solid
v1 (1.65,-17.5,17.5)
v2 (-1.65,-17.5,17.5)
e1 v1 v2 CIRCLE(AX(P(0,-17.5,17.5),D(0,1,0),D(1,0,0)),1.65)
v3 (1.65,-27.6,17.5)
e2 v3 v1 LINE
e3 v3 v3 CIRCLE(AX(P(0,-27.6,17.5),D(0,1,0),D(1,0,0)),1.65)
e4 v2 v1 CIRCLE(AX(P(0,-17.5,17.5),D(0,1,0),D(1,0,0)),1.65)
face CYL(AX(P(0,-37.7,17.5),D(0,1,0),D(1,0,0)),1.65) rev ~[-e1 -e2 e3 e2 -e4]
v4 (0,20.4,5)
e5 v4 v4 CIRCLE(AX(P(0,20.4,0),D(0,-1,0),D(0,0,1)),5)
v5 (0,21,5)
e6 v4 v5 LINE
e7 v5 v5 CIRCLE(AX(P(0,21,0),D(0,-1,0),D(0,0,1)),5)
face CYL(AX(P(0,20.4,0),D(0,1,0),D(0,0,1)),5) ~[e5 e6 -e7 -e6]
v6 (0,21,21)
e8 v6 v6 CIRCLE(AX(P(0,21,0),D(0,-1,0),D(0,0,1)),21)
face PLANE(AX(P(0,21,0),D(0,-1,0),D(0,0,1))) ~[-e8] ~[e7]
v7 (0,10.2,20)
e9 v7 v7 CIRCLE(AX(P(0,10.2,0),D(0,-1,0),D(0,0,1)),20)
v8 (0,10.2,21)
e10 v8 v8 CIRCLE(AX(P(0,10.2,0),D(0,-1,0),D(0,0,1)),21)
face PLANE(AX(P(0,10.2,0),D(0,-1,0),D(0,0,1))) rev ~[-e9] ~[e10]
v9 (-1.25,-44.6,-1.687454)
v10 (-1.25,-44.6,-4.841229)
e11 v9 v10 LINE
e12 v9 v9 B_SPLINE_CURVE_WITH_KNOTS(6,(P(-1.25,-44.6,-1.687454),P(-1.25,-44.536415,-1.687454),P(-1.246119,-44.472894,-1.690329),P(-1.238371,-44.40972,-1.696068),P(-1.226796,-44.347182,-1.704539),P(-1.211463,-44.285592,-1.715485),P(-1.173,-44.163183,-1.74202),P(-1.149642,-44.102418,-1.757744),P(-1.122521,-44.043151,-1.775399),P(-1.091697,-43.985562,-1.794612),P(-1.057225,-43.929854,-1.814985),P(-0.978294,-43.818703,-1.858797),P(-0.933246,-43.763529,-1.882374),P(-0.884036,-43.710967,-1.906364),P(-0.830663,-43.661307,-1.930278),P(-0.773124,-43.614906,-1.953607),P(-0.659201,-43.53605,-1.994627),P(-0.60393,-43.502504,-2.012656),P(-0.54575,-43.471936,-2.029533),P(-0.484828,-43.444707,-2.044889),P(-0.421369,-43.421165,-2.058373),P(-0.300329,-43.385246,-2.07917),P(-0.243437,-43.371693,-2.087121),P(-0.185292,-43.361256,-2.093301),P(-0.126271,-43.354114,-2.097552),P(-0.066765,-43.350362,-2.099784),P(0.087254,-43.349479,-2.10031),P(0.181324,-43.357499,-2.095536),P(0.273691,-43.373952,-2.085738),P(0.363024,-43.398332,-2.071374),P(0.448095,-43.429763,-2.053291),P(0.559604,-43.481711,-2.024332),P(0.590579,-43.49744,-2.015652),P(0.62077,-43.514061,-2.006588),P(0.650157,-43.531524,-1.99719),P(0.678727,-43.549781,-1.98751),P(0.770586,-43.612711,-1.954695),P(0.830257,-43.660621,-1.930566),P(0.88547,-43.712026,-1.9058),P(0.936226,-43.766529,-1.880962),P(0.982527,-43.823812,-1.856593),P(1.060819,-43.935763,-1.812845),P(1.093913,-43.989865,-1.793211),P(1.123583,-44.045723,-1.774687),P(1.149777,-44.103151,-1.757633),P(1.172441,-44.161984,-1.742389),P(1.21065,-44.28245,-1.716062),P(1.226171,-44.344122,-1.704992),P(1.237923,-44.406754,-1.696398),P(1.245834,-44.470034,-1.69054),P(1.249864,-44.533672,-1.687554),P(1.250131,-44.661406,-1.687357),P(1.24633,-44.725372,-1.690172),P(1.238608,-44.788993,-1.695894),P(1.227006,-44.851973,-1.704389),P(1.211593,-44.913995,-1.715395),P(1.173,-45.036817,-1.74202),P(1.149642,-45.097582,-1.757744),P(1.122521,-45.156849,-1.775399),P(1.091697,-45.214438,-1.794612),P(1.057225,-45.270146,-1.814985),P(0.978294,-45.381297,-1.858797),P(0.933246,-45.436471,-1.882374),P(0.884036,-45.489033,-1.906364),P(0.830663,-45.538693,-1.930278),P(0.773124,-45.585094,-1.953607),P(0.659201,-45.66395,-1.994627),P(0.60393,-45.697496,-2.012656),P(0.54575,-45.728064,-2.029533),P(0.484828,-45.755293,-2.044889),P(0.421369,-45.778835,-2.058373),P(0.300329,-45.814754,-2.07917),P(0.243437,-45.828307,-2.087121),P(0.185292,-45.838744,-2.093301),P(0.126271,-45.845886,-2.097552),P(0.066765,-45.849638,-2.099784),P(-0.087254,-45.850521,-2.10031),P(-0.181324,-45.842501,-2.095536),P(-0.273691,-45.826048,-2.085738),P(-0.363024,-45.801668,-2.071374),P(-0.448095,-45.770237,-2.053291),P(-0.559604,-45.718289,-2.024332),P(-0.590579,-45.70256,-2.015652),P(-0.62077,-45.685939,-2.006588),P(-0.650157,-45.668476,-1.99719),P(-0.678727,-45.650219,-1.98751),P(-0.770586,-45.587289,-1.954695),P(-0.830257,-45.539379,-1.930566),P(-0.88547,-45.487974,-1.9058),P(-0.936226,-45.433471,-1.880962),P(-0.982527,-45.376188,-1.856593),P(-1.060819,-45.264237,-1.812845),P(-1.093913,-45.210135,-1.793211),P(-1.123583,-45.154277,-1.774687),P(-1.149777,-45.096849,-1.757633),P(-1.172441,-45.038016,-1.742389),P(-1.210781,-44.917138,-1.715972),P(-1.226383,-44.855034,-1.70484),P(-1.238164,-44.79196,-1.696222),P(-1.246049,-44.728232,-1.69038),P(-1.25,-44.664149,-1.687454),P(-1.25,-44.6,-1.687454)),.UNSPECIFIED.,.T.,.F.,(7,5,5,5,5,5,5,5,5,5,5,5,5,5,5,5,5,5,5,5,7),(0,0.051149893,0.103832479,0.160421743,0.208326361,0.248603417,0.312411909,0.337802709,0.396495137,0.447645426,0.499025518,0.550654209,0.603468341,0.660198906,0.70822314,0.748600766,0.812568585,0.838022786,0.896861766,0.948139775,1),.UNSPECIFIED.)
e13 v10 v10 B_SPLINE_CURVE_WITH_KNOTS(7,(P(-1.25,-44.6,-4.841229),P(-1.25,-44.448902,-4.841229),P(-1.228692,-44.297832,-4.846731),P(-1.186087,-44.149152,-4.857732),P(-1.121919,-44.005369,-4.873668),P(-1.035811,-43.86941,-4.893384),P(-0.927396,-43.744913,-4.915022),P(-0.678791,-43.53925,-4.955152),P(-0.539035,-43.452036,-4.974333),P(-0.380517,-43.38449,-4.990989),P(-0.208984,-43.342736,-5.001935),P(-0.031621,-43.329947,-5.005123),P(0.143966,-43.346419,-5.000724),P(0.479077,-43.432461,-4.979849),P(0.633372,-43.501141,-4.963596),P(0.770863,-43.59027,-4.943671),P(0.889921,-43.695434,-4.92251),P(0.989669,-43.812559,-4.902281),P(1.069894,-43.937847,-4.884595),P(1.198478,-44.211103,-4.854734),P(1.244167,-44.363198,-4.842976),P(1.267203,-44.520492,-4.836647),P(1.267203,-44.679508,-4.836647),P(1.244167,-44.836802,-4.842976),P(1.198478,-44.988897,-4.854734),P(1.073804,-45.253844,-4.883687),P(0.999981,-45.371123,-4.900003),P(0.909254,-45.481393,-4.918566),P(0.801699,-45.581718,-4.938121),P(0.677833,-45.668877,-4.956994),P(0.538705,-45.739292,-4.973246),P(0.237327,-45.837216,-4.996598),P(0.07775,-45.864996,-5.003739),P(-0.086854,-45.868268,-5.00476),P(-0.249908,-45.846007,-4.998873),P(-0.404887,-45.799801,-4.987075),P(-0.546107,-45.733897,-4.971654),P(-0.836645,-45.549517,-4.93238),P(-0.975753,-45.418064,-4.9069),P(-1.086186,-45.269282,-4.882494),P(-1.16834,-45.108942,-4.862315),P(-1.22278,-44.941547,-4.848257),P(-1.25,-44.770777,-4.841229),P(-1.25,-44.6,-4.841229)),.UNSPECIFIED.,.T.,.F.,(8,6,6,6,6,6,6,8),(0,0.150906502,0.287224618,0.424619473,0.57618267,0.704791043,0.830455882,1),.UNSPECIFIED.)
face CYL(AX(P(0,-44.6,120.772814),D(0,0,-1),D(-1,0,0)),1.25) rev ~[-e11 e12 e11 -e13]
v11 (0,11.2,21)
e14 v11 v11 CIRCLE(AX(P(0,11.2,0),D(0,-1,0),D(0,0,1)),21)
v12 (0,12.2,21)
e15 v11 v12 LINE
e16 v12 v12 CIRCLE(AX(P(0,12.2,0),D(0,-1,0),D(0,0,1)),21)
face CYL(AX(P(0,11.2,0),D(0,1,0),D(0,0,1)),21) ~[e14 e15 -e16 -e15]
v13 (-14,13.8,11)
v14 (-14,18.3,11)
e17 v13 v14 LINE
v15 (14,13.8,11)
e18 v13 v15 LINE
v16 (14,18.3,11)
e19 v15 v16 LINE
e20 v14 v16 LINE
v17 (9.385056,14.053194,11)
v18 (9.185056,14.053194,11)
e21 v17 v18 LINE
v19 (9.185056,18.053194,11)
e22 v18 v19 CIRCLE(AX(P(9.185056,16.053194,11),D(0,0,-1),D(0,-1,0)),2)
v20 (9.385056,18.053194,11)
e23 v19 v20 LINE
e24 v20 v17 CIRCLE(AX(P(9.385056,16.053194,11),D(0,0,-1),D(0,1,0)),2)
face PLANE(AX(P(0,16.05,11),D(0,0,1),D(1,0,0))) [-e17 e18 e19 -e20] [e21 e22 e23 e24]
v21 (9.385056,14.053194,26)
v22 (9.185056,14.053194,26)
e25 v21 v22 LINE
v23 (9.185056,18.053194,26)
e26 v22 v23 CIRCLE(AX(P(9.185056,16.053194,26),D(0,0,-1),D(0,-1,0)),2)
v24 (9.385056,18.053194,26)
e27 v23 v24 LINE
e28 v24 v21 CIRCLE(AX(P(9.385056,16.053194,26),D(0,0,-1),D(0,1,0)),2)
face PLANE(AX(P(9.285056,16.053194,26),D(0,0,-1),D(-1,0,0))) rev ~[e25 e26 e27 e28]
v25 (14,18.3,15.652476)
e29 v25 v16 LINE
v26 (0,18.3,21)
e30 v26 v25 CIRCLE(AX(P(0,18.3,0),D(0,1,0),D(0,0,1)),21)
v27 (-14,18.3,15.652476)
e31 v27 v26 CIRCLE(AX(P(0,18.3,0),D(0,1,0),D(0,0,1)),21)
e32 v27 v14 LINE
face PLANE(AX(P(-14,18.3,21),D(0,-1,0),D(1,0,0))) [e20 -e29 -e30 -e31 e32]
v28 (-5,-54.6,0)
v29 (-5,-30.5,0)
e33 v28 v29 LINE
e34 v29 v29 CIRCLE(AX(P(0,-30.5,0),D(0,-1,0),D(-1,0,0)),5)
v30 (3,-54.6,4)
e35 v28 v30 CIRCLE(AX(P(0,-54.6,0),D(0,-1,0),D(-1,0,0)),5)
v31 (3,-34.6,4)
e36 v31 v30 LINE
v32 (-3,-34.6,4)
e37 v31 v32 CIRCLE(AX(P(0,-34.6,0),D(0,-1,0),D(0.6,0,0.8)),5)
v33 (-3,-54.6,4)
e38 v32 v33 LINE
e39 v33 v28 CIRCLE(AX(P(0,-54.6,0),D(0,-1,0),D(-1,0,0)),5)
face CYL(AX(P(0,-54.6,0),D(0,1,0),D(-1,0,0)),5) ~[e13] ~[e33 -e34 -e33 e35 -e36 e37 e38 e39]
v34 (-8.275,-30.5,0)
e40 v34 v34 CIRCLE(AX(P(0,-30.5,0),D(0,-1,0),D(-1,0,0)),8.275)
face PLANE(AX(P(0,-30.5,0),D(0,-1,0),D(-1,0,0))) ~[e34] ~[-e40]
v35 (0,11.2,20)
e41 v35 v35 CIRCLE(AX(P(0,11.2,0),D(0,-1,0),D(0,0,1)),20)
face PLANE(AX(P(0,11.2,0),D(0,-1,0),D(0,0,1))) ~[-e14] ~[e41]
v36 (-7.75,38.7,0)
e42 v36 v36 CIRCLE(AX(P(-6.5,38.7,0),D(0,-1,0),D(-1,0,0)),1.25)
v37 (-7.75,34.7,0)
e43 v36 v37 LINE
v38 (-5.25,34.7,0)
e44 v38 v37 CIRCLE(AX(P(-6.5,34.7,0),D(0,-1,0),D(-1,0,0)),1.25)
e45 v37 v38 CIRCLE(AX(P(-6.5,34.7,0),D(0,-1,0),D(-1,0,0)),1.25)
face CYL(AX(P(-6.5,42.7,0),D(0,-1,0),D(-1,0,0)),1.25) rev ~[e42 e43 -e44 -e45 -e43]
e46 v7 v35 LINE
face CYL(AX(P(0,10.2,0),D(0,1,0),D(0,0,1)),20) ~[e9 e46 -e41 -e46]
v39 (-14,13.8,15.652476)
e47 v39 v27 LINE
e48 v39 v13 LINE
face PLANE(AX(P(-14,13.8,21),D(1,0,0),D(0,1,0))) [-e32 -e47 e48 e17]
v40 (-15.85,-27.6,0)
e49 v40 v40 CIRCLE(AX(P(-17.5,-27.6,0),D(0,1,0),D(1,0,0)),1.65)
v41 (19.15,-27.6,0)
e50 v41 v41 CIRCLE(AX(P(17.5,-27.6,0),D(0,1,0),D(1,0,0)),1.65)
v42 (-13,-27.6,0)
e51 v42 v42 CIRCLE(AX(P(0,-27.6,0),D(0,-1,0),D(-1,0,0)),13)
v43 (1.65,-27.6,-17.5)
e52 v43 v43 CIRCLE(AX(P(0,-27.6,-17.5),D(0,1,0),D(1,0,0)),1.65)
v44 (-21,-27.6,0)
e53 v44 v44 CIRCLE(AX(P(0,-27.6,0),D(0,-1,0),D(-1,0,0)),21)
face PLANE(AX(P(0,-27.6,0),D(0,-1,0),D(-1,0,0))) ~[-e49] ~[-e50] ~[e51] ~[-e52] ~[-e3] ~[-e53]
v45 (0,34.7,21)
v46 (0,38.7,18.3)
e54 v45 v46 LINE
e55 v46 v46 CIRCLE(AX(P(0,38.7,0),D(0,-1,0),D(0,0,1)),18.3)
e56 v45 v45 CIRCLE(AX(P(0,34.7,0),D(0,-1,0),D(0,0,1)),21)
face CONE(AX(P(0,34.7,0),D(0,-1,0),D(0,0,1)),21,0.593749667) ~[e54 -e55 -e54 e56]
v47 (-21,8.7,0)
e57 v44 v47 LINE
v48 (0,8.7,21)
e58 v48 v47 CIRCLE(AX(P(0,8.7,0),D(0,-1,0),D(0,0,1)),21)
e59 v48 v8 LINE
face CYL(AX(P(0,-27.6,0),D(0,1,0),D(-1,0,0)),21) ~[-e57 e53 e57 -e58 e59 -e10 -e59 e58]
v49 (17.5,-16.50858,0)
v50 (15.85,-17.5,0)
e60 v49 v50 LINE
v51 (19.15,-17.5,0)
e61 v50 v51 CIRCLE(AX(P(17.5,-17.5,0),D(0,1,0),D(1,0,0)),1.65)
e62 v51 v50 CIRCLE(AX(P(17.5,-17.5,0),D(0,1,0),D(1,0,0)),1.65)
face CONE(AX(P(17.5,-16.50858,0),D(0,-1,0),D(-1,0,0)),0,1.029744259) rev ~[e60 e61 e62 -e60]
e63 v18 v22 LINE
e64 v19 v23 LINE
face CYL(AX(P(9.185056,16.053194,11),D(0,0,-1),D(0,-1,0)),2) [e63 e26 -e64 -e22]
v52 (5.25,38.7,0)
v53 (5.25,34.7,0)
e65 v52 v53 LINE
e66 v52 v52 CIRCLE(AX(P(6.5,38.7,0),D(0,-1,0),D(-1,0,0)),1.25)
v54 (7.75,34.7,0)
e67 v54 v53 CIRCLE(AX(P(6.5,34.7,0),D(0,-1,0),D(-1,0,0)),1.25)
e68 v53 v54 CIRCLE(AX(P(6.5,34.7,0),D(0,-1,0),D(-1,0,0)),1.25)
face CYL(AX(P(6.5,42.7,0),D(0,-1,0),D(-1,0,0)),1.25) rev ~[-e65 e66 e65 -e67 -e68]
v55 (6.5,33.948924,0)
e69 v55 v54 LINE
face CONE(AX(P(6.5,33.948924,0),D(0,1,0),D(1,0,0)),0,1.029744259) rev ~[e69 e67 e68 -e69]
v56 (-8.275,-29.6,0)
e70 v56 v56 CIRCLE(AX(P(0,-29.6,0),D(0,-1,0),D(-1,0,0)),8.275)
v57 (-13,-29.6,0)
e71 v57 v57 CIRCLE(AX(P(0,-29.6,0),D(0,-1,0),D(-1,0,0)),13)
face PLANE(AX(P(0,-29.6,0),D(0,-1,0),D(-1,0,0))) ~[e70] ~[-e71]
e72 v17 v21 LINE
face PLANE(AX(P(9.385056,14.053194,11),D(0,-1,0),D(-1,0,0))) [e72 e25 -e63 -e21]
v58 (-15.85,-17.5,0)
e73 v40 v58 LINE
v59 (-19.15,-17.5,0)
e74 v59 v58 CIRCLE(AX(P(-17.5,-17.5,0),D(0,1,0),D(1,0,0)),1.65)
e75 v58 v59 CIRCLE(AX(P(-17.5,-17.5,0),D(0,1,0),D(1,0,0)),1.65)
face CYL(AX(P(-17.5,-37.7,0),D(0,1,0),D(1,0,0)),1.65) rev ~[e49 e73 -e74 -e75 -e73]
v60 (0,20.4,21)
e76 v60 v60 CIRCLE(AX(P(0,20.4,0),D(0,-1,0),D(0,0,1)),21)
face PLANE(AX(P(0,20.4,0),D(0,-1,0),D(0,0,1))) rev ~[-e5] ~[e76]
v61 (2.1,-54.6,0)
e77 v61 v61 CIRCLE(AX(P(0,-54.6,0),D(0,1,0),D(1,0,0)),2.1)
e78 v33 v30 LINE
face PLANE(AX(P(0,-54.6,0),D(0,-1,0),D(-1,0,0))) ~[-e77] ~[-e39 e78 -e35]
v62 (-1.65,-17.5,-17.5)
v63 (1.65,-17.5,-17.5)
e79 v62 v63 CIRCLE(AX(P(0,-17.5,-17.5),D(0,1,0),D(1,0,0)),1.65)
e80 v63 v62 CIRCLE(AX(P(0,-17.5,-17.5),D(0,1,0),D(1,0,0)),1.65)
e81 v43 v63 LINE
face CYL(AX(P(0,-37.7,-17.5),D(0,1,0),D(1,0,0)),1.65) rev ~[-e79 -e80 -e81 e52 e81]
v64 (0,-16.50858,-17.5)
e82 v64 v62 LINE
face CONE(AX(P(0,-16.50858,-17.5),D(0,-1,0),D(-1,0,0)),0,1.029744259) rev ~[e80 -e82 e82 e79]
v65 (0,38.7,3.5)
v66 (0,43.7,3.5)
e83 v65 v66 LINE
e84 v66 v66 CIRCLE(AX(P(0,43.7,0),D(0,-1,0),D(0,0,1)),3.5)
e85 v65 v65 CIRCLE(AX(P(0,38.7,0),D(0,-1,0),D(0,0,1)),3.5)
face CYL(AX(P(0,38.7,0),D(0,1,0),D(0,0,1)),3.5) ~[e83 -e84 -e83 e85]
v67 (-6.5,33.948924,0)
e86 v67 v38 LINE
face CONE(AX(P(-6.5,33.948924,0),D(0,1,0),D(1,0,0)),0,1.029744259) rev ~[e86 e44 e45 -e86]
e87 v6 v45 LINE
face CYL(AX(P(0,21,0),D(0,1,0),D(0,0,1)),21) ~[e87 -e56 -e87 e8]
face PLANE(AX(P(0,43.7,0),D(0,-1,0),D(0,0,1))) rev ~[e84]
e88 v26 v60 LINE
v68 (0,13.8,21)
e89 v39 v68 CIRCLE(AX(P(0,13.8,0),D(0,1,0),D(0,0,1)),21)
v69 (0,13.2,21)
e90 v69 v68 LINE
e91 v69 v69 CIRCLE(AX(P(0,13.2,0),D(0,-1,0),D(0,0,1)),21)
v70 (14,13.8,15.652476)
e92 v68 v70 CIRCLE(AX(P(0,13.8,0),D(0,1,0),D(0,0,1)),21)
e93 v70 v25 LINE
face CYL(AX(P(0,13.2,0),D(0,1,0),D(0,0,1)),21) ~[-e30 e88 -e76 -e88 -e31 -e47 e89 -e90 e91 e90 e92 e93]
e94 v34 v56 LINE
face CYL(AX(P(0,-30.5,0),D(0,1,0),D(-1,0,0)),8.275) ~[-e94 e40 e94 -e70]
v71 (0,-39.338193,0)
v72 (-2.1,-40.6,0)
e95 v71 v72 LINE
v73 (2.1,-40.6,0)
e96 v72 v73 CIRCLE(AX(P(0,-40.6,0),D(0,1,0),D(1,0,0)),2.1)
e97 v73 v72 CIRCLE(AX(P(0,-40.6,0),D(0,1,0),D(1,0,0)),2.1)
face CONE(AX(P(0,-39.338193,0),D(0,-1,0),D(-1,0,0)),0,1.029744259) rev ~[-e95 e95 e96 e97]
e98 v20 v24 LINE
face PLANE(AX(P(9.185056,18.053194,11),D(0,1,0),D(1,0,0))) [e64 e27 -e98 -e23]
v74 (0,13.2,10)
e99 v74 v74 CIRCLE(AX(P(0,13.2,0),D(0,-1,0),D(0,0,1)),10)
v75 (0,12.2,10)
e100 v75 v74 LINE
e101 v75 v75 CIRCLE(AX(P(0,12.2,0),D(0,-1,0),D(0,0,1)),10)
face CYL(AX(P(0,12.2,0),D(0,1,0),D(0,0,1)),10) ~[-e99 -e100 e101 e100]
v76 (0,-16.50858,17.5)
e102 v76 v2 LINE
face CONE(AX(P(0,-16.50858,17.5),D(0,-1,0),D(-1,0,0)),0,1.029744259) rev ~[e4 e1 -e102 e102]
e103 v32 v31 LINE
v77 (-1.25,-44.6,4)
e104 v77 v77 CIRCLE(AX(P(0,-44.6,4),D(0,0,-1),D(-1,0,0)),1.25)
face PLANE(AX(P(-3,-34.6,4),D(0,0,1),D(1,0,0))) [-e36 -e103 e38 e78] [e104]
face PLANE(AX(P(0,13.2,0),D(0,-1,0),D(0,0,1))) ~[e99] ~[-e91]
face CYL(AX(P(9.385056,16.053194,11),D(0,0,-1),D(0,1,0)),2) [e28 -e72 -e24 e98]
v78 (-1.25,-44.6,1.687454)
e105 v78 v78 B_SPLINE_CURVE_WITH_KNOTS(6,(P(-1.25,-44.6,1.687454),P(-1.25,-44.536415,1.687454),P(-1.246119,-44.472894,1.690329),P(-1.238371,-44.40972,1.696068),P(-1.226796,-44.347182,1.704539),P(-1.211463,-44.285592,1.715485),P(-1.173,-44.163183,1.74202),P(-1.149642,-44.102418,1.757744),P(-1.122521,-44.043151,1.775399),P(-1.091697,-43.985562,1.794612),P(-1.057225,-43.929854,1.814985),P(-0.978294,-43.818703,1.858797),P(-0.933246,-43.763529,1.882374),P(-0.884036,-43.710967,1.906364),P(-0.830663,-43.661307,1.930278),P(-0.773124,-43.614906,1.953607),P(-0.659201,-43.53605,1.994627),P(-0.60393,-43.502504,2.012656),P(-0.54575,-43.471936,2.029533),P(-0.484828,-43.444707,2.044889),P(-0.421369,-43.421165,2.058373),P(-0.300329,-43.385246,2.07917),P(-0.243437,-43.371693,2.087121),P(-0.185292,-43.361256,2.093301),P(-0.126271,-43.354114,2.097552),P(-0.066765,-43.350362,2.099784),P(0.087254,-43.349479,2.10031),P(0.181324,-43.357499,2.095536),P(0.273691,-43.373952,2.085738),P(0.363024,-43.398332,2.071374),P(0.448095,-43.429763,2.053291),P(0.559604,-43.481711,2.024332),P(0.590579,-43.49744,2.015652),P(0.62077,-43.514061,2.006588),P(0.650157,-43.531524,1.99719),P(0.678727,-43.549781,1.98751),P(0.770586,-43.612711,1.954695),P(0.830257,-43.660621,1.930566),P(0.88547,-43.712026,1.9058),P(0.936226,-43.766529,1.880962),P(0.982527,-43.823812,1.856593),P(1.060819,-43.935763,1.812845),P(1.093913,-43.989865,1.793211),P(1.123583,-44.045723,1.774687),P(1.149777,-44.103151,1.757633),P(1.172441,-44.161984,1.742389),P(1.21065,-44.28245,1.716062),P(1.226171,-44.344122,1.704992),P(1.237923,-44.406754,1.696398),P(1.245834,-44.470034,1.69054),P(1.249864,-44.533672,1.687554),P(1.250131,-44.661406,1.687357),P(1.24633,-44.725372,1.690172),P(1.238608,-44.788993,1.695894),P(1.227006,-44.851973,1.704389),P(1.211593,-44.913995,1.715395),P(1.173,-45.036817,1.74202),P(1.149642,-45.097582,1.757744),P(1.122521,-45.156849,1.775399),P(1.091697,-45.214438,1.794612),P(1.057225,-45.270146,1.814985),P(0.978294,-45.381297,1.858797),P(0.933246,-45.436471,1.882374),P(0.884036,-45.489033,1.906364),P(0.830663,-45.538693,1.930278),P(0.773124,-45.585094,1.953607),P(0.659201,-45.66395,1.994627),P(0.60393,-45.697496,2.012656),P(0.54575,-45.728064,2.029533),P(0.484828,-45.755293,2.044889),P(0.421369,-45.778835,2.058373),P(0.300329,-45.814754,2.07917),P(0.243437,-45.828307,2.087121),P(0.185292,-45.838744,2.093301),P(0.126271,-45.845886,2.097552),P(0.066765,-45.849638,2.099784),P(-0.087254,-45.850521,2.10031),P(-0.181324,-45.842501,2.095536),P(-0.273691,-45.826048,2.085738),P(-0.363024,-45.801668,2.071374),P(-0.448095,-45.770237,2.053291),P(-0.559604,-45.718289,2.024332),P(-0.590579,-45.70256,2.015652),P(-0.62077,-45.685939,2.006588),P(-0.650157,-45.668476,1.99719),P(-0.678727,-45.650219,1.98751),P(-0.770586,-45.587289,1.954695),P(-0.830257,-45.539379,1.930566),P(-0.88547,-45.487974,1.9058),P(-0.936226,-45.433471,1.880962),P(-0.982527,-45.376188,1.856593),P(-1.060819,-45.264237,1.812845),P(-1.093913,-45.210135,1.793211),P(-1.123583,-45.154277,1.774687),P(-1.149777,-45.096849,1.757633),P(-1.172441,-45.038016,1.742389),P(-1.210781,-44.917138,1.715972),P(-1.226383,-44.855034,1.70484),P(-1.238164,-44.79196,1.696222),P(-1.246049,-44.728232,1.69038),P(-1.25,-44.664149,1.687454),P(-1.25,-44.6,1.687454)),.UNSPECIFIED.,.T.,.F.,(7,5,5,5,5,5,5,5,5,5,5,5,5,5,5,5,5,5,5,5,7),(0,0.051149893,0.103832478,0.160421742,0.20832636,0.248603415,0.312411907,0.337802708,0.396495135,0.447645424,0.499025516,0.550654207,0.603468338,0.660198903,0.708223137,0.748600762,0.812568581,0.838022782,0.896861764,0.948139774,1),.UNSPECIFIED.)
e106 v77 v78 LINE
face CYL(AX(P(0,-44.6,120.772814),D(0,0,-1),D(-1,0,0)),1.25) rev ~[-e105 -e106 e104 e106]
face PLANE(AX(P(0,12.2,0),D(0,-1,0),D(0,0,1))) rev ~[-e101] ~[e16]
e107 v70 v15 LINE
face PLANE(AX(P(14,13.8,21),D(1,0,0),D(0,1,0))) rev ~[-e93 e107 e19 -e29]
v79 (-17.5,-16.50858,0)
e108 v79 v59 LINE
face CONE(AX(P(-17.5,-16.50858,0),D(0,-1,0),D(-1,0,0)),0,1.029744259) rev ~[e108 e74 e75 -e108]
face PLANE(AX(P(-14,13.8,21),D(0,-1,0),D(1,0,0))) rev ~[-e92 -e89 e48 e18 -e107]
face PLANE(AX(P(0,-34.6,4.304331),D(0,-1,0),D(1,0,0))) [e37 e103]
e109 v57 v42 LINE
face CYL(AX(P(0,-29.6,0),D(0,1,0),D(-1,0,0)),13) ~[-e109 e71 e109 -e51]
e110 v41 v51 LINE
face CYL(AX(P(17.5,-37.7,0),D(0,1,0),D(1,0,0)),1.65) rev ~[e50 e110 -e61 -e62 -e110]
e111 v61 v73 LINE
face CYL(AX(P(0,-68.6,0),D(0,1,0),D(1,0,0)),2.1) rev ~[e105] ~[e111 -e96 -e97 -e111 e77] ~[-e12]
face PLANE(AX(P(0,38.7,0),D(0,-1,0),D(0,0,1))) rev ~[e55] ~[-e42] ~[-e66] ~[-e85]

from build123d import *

# Parameters (mm, degrees)
SKETCH_2_W             = 28
SKETCH_2_H             = 4.5
CUT_EXTRUDE_1_DEPTH    = 10
EXTRUDE_1_DEPTH        = 15
HOLE_WIZARD_M3_1_D     = 2.5
HOLE_WIZARD_M3_1_DEPTH = 4
HOLE_WIZARD_M3_1_TIP   = 0.751075774
CUT_EXTRUDE_START      = -20
CUT_EXTRUDE_2_DEPTH    = 20
HOLE_WIZARD_M4_1_D     = 3.3
HOLE_WIZARD_M4_1_DEPTH = 10.1
HOLE_WIZARD_M4_1_TIP   = 0.991420021
HOLE_WIZARD_M3_2_D     = 2.5
HOLE_WIZARD_M5_1_D     = 4.2
HOLE_WIZARD_M5_1_DEPTH = 14
HOLE_WIZARD_M5_1_TIP   = 1.2618073


with BuildPart() as part:
    # 草图1 → 旋转1 (revolve)
    with BuildSketch(Plane.XY, mode=Mode.PRIVATE) as revolve_1_sk:
        Polygon((0, 0), (4.1, 0), (4.1, 6.7), (13.4, 6.7), (13.4, 8.7), (21, 8.7), (21, 10.2), (20, 10.2), (20, 11.2), (21, 11.2), (21, 12.2), (10, 12.2), (10, 13.2), (21, 13.2), (21, 20.4), (5, 20.4), (5, 21), (21, 21), (21, 34.7), (18.3, 38.7), (3.5, 38.7), (3.5, 43.7), (0, 43.7), align=None)
    revolve(revolve_1_sk.sketch.rotate(Axis((0, 43.7, 0), (0, -1, 0)), 90), axis=Axis((0, 43.7, 0), (0, -1, 0)))

    # 草图2 → 切除-拉伸1 (cut)
    with BuildSketch(Plane.XY.offset(21)):
        with Locations((0, 16.05)):
            Rectangle(SKETCH_2_W, SKETCH_2_H)
    extrude(amount=-CUT_EXTRUDE_1_DEPTH, mode=Mode.SUBTRACT)

    # 草图3 → 凸台-拉伸1 (add)
    with BuildSketch(Plane.XY.offset(11)):
        with BuildLine():
            Line((9.185056323, 18.053194417), (9.385056323, 18.053194417))
            ThreePointArc((9.385056323, 18.053194417), (11.385056323, 16.053194417), (9.385056323, 14.053194417))
            Line((9.385056323, 14.053194417), (9.185056323, 14.053194417))
            ThreePointArc((9.185056323, 14.053194417), (7.185056323, 16.053194417), (9.185056323, 18.053194417))
        make_face()
    extrude(amount=EXTRUDE_1_DEPTH)

    # M3 螺纹孔1
    with Locations(Plane(origin=(0, 38.7, 0), x_dir=(1, 0, 0), z_dir=(0, 1, 0))):
        with Locations((-6.5, 0), (6.5, 0)):
            Hole(HOLE_WIZARD_M3_1_D / 2, depth=HOLE_WIZARD_M3_1_DEPTH)
            with Locations((0, 0, -(HOLE_WIZARD_M3_1_DEPTH + HOLE_WIZARD_M3_1_TIP / 2))):  # 118° drill point
                Cone(0, HOLE_WIZARD_M3_1_D / 2, HOLE_WIZARD_M3_1_TIP, mode=Mode.SUBTRACT)

    # 草图7 → 旋转2 (revolve)
    with BuildSketch(Plane.XY, mode=Mode.PRIVATE) as revolve_2_sk:
        Polygon((0, -54.6), (5, -54.6), (5, -30.5), (8.275, -30.5), (8.275, -29.6), (13, -29.6), (13, -27.6), (21, -27.6), (21, 8.7), (0, 8.7), align=None)
    revolve(revolve_2_sk.sketch.rotate(Axis((0, 8.7, 0), (0, -1, 0)), 180), axis=Axis((0, 8.7, 0), (0, -1, 0)))

    # 草图8 → 切除-拉伸2 (cut)
    with BuildSketch(Plane.XZ.offset(54.6).offset(CUT_EXTRUDE_START)):
        with BuildLine():
            Line((-3, 4), (3, 4))
            ThreePointArc((3, 4), (0, 5), (-3, 4))
        make_face()
    extrude(amount=CUT_EXTRUDE_2_DEPTH, mode=Mode.SUBTRACT)

    # M4 螺纹孔1
    with Locations(Plane(origin=(0, -27.6, 0), x_dir=(-1, 0, 0), z_dir=(0, -1, 0))):
        with Locations((0, -17.5), (-17.5, 0), (0, 17.5), (17.5, 0)):
            Hole(HOLE_WIZARD_M4_1_D / 2, depth=HOLE_WIZARD_M4_1_DEPTH)
            with Locations((0, 0, -(HOLE_WIZARD_M4_1_DEPTH + HOLE_WIZARD_M4_1_TIP / 2))):  # 118° drill point
                Cone(0, HOLE_WIZARD_M4_1_D / 2, HOLE_WIZARD_M4_1_TIP, mode=Mode.SUBTRACT)

    # M3 螺纹孔2 (through all)
    with Locations(Plane(origin=(0, -44.6, 4), x_dir=(1, 0, 0), z_dir=(0, 0, 1))):
        with Locations((0, 0)):
            Hole(HOLE_WIZARD_M3_2_D / 2)

    # M5 螺纹孔1
    with Locations(Plane(origin=(0, -54.6, 0), x_dir=(-1, 0, 0), z_dir=(0, -1, 0))):
        with Locations((0, 0)):
            Hole(HOLE_WIZARD_M5_1_D / 2, depth=HOLE_WIZARD_M5_1_DEPTH)
            with Locations((0, 0, -(HOLE_WIZARD_M5_1_DEPTH + HOLE_WIZARD_M5_1_TIP / 2))):  # 118° drill point
                Cone(0, HOLE_WIZARD_M5_1_D / 2, HOLE_WIZARD_M5_1_TIP, mode=Mode.SUBTRACT)


solid = part.part
